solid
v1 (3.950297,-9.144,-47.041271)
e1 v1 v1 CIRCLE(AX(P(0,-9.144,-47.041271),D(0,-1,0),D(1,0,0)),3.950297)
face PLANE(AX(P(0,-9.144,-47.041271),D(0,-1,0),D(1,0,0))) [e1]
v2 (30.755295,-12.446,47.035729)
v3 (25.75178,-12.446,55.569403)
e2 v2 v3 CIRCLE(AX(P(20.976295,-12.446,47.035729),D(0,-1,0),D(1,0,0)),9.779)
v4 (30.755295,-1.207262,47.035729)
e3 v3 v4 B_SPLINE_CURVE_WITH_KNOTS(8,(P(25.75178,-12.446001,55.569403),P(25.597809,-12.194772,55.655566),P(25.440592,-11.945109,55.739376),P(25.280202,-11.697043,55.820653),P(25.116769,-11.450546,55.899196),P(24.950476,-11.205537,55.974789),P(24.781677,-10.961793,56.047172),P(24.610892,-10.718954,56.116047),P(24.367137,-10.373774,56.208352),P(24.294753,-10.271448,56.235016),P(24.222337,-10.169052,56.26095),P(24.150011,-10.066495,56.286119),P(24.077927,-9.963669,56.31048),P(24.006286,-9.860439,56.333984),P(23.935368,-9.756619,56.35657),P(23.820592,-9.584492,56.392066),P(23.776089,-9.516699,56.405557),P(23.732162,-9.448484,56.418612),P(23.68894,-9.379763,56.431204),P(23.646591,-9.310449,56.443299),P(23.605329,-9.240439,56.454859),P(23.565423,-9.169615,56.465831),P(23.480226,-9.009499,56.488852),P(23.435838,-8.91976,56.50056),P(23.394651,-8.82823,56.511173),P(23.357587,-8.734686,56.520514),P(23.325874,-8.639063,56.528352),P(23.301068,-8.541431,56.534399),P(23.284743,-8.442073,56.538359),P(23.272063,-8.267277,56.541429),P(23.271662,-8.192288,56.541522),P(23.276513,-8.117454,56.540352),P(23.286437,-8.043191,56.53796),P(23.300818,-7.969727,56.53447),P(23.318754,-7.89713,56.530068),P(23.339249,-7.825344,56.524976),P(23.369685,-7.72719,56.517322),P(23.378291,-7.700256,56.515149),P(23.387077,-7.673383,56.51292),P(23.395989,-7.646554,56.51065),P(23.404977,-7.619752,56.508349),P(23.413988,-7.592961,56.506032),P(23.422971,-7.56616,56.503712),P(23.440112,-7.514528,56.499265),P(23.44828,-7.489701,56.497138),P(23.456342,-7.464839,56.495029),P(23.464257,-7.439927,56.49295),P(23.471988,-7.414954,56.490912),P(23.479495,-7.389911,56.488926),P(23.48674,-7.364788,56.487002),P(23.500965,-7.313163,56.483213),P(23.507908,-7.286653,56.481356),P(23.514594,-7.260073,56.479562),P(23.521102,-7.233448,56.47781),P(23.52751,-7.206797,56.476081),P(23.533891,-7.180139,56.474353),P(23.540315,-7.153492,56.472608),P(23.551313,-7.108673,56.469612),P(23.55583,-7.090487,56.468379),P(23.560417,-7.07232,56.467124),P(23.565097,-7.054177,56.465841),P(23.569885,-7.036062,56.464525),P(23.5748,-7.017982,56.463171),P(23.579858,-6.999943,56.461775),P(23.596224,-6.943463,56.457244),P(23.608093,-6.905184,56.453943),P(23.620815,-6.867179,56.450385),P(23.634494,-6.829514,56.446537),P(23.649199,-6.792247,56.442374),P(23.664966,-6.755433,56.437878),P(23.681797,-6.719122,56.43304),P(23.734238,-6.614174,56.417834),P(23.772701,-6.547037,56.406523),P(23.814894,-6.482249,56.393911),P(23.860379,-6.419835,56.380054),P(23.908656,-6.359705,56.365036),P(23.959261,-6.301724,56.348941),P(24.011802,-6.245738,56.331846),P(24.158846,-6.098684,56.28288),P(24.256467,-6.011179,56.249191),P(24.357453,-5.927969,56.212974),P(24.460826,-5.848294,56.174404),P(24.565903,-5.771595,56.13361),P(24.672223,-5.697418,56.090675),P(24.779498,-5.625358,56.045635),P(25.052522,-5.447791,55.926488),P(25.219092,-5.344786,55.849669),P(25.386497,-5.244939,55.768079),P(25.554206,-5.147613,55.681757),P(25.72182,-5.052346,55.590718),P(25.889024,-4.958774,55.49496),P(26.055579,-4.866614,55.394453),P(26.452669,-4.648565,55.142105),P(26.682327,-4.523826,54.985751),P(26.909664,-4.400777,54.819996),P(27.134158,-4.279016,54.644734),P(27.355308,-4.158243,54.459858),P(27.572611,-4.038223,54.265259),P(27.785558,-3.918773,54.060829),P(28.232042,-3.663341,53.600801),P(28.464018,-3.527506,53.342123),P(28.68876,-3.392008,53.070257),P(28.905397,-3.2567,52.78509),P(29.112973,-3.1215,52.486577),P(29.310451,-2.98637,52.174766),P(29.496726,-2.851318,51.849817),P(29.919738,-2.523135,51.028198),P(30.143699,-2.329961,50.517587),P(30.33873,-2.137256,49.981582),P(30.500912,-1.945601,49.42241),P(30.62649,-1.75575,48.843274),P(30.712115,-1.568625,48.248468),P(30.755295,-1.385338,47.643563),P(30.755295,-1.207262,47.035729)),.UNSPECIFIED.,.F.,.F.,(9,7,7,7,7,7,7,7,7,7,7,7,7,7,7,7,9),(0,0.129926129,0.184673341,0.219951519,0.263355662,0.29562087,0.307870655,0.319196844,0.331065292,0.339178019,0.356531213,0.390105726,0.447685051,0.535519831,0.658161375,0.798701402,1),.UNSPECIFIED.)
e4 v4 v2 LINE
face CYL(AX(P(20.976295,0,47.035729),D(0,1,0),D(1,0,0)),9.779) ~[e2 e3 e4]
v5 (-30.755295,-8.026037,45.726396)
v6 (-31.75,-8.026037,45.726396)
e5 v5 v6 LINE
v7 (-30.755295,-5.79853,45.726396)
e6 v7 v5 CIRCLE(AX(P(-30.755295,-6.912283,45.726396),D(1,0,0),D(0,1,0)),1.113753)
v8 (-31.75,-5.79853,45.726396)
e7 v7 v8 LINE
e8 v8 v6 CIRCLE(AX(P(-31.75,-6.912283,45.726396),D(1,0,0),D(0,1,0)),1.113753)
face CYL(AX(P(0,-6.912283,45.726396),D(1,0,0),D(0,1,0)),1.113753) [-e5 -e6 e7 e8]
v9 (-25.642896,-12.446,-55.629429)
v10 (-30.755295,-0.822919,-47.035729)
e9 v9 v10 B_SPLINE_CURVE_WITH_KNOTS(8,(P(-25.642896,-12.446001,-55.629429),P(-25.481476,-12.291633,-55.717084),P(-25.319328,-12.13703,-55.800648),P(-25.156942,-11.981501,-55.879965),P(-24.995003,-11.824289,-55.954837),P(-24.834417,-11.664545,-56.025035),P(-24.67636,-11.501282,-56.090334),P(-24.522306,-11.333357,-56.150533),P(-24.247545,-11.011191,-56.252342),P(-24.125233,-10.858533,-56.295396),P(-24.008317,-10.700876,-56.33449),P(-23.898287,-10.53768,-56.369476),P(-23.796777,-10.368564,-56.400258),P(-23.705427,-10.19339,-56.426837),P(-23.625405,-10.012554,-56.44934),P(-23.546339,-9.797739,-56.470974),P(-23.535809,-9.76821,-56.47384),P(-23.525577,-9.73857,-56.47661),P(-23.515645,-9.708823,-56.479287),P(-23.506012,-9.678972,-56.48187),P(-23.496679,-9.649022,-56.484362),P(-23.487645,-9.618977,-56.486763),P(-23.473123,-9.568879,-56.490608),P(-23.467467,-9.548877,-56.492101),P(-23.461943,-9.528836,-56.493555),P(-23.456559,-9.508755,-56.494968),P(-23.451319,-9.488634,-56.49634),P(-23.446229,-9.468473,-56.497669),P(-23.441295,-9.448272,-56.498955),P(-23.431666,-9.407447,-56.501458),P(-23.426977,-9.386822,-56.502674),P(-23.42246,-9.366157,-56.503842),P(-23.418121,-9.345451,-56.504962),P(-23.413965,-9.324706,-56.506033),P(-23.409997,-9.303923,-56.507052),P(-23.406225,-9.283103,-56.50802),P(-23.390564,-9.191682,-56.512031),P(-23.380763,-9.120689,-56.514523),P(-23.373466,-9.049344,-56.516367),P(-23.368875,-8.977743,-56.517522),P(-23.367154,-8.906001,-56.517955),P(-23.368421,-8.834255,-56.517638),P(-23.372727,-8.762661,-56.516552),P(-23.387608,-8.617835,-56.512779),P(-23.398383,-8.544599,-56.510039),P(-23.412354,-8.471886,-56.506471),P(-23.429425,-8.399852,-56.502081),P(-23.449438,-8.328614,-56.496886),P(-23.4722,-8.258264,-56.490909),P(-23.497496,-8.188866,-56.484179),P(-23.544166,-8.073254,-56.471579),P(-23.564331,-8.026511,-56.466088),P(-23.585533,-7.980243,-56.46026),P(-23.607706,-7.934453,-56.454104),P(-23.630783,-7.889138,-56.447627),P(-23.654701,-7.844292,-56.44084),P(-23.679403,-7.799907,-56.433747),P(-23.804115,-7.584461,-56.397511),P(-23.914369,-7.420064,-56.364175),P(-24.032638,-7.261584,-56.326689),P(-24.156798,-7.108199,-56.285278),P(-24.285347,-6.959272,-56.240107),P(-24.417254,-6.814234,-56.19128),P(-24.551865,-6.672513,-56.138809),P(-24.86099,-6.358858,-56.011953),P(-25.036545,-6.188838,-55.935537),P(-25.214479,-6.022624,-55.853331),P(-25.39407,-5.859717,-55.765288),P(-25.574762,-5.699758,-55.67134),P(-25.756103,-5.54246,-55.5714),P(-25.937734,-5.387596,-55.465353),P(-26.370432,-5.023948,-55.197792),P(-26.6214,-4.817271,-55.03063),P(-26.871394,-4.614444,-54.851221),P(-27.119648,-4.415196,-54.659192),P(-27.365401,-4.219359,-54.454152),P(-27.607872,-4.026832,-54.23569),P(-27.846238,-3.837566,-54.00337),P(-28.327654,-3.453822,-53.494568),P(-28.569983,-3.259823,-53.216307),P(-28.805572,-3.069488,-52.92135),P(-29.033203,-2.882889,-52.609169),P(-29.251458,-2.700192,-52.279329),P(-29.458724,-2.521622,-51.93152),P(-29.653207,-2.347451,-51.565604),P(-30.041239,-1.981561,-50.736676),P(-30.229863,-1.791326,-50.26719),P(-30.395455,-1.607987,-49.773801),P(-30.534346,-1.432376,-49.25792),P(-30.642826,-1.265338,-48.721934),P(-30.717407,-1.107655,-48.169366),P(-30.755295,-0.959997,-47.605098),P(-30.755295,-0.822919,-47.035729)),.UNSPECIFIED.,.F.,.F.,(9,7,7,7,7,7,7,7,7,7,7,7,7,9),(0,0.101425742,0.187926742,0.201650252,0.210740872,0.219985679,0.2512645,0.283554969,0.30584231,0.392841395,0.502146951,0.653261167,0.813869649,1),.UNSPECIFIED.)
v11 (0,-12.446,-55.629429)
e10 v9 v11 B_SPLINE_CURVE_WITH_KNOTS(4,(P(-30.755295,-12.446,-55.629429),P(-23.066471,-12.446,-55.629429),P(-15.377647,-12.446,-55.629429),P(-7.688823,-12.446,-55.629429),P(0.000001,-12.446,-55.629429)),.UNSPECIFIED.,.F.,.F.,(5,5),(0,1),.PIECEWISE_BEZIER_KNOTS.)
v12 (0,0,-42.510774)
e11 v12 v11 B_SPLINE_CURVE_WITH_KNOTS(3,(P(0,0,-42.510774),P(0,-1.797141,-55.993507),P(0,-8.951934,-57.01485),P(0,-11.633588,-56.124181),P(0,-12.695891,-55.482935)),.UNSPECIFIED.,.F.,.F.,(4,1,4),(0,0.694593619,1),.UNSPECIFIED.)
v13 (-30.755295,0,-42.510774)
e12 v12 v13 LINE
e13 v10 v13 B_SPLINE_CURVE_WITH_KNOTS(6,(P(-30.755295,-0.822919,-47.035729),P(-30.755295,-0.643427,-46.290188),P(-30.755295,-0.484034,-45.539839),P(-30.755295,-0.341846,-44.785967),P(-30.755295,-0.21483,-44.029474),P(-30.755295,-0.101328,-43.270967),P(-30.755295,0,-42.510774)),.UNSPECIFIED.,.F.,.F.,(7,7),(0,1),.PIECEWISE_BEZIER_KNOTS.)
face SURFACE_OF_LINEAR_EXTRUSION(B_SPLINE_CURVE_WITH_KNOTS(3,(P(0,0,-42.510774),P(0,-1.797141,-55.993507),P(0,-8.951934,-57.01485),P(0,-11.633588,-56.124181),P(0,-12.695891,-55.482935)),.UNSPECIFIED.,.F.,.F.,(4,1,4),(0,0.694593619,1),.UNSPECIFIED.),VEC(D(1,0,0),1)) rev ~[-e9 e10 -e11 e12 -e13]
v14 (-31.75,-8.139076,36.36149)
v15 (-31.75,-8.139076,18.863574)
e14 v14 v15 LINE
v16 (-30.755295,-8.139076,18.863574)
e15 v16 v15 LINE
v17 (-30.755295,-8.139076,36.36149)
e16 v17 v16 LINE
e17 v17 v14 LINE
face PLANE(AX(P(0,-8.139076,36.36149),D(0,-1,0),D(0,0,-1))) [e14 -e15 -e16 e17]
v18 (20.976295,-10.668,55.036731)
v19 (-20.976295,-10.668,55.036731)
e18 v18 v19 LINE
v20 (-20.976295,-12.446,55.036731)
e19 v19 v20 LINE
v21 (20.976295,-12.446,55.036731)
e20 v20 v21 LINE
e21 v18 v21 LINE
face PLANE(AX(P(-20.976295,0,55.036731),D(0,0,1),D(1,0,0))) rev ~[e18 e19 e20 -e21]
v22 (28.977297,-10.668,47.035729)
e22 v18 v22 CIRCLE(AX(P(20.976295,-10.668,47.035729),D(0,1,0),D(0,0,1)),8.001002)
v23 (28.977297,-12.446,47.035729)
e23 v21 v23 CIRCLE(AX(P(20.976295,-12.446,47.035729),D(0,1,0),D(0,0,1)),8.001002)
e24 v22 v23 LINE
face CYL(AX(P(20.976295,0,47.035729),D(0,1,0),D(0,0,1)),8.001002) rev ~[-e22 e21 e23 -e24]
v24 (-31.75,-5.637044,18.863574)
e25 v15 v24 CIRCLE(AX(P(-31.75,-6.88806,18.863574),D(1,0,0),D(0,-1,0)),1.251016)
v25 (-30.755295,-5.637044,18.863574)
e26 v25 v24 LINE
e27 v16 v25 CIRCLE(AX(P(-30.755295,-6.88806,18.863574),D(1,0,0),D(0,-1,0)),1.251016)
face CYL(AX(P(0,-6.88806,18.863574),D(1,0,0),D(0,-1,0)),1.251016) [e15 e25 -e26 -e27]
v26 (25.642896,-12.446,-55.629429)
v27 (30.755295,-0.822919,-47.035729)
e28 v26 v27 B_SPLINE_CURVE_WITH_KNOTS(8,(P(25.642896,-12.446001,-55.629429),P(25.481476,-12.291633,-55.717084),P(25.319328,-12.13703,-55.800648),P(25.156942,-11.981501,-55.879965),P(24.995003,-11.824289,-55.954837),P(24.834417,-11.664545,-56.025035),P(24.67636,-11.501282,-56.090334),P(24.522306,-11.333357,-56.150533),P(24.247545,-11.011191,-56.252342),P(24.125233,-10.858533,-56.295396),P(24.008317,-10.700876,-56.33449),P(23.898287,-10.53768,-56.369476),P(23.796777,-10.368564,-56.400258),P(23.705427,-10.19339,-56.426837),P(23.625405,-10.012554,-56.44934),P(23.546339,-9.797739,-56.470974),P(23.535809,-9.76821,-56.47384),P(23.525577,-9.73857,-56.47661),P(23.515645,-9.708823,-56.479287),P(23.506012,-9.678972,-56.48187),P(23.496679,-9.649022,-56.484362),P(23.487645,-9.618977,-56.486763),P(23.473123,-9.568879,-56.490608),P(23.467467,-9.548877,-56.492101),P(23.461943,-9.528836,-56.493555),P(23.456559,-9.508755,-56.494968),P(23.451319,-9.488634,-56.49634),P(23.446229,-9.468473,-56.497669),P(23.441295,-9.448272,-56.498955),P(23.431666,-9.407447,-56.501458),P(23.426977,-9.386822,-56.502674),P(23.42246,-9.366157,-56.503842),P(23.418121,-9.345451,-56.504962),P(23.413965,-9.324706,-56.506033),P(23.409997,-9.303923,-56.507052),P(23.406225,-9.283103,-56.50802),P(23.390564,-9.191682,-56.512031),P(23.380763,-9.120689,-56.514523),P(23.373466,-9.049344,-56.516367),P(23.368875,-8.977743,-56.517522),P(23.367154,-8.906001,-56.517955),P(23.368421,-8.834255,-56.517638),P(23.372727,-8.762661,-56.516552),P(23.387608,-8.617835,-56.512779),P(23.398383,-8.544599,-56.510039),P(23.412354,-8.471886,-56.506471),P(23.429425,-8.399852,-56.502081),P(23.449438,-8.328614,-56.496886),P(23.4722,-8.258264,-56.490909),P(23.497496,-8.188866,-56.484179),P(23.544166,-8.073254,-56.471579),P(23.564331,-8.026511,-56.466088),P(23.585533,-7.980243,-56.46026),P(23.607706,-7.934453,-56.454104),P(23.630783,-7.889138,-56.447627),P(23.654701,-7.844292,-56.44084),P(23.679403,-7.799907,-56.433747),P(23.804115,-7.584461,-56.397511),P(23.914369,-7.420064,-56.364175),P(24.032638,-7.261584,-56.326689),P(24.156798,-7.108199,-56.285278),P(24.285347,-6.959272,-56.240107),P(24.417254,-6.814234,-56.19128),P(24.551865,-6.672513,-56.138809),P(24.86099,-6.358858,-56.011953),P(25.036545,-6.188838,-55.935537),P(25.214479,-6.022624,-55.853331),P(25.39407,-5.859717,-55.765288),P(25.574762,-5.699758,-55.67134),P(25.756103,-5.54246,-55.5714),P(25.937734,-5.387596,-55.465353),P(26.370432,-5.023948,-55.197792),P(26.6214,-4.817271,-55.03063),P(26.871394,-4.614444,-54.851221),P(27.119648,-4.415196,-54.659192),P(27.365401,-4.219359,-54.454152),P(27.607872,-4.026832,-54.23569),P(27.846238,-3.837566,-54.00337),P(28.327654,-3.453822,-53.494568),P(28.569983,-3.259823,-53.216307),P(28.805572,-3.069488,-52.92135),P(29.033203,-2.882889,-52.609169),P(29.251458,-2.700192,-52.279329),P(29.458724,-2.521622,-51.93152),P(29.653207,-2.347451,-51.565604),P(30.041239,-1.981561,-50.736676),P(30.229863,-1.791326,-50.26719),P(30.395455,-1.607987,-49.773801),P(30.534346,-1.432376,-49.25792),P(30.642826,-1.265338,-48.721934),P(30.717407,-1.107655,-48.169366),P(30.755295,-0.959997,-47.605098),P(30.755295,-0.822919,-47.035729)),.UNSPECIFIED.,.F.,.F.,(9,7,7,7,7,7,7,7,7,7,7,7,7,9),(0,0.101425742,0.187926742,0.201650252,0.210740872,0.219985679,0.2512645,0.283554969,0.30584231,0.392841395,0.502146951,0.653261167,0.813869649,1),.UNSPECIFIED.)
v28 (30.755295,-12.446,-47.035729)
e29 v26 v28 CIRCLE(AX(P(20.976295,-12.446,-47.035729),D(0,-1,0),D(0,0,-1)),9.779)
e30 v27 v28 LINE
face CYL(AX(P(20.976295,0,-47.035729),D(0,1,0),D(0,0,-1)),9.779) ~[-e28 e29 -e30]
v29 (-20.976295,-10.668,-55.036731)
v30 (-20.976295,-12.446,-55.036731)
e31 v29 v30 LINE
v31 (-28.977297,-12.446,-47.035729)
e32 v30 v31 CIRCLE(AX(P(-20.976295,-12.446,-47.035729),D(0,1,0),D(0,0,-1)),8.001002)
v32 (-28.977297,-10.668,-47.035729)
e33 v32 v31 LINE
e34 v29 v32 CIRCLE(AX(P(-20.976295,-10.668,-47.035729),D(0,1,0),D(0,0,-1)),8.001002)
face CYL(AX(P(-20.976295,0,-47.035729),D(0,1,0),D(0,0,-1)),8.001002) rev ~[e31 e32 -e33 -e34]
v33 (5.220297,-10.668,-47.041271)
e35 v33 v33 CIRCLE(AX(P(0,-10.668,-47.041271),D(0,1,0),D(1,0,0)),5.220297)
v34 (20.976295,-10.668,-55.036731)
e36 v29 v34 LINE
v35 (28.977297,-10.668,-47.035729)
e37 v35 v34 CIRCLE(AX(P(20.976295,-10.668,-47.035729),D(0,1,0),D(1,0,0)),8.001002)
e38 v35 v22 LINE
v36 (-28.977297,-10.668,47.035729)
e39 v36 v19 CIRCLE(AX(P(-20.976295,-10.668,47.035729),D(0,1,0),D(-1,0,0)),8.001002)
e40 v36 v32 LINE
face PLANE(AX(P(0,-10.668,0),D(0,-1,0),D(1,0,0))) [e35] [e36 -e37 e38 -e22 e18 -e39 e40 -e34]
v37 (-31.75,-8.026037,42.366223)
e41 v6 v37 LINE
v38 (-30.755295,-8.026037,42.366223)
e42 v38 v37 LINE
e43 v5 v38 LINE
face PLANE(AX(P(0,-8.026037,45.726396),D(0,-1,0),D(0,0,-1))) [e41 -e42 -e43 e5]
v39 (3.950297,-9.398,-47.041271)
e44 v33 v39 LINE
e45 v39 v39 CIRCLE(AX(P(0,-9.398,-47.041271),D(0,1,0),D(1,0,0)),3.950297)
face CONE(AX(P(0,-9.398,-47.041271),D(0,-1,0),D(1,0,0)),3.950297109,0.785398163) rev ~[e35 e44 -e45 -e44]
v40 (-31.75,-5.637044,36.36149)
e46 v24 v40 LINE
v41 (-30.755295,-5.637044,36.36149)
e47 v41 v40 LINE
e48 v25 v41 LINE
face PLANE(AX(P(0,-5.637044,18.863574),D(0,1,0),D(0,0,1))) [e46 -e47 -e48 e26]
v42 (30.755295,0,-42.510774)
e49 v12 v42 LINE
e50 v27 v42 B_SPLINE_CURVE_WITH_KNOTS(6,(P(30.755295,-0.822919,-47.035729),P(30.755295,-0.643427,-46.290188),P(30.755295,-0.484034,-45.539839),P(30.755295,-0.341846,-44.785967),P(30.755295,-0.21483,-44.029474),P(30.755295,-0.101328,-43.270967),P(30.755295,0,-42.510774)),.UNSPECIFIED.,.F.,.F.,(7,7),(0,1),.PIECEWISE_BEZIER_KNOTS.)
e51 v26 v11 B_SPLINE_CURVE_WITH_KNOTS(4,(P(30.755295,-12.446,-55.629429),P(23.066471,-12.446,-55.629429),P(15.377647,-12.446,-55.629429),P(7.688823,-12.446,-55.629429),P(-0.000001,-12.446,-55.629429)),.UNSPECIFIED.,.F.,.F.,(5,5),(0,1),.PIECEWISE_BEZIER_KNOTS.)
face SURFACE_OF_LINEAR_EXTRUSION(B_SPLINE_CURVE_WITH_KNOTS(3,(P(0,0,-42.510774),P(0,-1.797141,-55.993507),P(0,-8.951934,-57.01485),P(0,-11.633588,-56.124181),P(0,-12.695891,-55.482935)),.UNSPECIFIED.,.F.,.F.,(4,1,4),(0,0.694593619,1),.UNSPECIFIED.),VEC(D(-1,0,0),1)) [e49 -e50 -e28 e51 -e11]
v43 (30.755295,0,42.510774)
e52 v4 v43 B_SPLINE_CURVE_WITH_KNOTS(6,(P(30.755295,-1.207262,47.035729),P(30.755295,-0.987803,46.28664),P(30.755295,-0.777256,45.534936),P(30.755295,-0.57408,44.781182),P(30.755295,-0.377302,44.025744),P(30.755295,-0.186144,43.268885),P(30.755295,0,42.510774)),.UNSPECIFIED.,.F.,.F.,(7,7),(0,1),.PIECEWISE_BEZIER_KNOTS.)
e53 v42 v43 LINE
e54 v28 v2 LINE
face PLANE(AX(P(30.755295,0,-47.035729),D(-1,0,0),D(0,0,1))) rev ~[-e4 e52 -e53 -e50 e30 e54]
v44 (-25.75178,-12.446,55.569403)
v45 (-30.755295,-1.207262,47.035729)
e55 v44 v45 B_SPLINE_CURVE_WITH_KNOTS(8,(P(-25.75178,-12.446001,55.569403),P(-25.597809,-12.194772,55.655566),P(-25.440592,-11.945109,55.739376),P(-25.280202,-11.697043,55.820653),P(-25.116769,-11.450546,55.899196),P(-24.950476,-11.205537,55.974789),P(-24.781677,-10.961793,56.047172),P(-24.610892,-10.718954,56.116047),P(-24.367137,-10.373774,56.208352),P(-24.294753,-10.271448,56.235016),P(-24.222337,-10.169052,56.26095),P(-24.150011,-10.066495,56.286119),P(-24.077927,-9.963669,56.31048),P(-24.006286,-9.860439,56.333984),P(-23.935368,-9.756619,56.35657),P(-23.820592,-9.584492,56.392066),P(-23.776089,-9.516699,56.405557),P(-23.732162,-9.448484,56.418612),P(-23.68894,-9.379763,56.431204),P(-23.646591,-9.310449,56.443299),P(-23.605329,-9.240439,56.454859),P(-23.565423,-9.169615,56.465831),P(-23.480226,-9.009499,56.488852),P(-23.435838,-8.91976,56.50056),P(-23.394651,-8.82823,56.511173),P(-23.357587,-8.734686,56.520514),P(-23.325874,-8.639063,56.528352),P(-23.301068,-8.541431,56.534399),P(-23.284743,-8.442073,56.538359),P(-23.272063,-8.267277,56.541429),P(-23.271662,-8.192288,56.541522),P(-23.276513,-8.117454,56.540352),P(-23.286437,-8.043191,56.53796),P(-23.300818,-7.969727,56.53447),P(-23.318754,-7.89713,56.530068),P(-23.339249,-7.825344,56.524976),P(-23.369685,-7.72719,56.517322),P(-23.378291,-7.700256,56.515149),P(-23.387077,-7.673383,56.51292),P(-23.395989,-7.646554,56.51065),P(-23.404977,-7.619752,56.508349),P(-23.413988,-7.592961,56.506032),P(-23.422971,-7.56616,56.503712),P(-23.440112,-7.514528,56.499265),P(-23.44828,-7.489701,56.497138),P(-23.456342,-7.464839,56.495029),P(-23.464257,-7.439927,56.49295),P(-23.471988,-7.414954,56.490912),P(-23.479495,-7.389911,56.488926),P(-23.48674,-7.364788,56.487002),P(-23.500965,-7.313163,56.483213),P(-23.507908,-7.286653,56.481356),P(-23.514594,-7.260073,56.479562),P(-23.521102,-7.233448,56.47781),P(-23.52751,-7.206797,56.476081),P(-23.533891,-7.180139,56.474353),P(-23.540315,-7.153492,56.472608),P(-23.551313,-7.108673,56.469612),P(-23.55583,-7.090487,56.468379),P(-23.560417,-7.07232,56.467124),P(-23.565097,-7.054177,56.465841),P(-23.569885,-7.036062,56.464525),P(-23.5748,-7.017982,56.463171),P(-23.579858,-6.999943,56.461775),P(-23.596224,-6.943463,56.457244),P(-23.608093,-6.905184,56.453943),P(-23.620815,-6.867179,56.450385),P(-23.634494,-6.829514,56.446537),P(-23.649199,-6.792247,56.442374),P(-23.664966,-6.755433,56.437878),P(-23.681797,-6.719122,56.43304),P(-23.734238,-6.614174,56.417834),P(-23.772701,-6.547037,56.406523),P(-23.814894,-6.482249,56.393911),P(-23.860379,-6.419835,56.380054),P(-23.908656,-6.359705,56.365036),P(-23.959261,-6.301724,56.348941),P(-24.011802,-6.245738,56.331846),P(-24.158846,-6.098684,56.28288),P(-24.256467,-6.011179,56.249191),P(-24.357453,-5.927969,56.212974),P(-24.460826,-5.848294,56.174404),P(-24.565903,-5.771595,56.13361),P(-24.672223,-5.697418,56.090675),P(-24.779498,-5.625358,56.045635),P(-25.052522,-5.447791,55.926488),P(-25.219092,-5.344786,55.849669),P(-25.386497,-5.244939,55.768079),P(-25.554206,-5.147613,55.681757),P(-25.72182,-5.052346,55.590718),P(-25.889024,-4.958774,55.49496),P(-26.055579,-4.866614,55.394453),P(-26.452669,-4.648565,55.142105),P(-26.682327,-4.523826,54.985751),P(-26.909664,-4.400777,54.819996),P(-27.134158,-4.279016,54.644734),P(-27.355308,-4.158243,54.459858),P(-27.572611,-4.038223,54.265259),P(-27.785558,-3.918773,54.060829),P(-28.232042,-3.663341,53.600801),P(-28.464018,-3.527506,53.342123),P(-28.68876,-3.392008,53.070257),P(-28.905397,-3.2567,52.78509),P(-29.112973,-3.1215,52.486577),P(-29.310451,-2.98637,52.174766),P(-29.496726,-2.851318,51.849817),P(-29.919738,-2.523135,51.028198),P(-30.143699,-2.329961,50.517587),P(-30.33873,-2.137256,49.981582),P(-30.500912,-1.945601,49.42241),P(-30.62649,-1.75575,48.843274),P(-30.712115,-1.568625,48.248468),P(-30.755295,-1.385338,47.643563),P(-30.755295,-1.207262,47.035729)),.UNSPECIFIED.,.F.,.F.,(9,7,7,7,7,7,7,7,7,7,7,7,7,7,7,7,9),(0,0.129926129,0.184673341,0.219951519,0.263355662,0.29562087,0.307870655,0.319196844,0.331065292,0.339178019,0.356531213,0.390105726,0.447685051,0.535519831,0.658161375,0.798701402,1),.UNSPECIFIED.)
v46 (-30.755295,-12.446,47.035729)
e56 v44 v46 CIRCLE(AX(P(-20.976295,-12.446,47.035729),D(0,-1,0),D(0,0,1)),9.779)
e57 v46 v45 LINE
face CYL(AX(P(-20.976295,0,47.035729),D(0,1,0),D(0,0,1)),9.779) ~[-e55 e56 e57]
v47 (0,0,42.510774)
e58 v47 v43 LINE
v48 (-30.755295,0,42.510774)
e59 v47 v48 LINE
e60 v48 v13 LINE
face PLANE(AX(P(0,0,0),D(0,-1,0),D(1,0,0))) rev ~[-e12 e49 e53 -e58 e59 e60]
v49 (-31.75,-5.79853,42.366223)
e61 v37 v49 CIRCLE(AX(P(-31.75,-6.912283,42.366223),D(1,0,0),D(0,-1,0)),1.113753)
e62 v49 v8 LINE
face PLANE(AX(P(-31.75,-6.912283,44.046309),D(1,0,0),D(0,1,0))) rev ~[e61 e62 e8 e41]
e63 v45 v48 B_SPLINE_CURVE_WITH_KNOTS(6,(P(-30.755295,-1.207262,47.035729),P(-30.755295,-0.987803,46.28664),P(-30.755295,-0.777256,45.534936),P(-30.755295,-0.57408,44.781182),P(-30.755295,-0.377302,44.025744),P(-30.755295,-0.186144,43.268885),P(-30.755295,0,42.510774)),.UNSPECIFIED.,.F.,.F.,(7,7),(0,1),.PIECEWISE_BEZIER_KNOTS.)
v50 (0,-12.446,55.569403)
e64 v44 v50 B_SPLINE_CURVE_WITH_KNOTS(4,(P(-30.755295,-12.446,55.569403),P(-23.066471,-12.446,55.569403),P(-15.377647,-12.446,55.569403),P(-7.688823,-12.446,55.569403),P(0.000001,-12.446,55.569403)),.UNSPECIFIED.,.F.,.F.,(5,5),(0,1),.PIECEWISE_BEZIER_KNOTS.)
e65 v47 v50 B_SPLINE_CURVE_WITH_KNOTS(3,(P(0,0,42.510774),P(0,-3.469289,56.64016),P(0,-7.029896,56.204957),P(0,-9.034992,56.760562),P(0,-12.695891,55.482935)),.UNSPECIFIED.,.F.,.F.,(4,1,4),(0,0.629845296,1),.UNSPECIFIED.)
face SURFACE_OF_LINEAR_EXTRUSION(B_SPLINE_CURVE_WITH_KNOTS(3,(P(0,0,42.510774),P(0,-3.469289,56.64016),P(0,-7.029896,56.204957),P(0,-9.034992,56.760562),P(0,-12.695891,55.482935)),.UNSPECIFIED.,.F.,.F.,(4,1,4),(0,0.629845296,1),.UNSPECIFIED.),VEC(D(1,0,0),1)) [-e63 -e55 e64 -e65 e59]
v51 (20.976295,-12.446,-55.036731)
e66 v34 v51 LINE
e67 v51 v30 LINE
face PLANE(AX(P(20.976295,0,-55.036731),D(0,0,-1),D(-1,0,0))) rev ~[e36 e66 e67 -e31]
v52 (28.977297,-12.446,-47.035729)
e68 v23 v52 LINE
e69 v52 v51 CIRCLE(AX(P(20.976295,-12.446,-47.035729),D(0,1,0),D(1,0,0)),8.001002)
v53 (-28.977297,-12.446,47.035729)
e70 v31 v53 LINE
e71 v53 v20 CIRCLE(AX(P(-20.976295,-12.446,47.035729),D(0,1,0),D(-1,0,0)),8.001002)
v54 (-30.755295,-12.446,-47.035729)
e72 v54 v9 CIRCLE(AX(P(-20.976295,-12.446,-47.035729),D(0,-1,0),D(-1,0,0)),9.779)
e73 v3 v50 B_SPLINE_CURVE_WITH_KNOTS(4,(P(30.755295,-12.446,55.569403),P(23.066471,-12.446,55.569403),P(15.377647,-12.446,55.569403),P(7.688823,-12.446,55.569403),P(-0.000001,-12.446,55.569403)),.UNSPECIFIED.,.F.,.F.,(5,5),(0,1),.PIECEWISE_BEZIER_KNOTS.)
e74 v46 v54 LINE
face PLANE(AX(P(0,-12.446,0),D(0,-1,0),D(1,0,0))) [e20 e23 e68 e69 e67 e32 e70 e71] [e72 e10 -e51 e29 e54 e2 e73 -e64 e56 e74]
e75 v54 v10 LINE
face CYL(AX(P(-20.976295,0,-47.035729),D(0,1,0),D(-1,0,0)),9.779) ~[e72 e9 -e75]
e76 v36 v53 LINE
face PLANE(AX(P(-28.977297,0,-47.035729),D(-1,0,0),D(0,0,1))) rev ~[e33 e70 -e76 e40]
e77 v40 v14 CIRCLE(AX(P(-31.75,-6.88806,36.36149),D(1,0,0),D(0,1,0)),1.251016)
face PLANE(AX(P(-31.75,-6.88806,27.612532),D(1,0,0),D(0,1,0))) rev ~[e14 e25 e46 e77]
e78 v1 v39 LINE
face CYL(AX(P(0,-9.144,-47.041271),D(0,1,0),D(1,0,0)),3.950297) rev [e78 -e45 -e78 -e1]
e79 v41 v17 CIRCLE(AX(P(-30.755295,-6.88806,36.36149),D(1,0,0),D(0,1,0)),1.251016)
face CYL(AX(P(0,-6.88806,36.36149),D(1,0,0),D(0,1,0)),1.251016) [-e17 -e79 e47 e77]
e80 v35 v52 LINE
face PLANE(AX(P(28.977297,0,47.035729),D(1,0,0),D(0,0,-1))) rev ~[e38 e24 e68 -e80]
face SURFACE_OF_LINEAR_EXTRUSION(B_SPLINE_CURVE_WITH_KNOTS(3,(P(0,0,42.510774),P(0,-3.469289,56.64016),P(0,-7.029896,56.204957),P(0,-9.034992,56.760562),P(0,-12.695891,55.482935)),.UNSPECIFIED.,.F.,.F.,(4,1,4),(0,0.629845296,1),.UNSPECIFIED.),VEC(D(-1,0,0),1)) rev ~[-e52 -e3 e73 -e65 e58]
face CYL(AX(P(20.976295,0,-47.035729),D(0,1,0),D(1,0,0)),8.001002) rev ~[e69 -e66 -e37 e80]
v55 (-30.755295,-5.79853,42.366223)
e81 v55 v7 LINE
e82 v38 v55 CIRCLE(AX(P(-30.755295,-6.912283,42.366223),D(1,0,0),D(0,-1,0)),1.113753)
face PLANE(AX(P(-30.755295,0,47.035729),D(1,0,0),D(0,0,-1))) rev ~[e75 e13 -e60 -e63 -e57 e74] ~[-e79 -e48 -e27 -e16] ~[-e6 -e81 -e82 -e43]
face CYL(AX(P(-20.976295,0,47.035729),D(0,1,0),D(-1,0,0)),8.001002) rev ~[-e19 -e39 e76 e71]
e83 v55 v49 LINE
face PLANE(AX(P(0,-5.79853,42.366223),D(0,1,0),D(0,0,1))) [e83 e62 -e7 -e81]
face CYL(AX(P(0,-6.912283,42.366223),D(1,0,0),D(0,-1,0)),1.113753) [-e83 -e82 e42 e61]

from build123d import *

# Parameters (mm, degrees)
F0_R     = 3.9502971089
F1_DEPTH = 10.668
F2_DEPTH = 12.446
F3_START = 9.144
F3_DEPTH = 9.906
F4_SIZE  = 1.27
F6_DEPTH = 34.798
F8_DEPTH = 31.75


with BuildPart() as f1:
    # F0 (on Front) → F1 (new body)
    with BuildSketch(Plane.XZ):
        with BuildLine():
            Line((-20.9762947197, -56.8147292361), (20.9762947197, -56.8147292361))
            ThreePointArc((20.9762947197, -56.8147292361), (27.8910919329, -53.9505264493), (30.7552947197, -47.0357292361))
            Line((30.7552947197, -47.0357292361), (30.7552947197, 47.0357292361))
            ThreePointArc((30.7552947197, 47.0357292361), (27.8910919329, 53.9505264493), (20.9762947197, 56.8147292361))
            Line((20.9762947197, 56.8147292361), (-20.9762947197, 56.8147292361))
            ThreePointArc((-20.9762947197, 56.8147292361), (-27.8910919329, 53.9505264493), (-30.7552947197, 47.0357292361))
            Line((-30.7552947197, 47.0357292361), (-30.7552947197, -47.0357292361))
            ThreePointArc((-30.7552947197, -47.0357292361), (-27.8910919329, -53.9505264493), (-20.9762947197, -56.8147292361))
        make_face()
        with BuildLine():
            ThreePointArc((20.9762947197, 55.0367310643), (26.6338573688, 52.6932918851), (28.977296548, 47.0357292361))
            Line((28.977296548, 47.0357292361), (28.977296548, -47.0357292361))
            ThreePointArc((28.977296548, -47.0357292361), (26.6338573688, -52.6932918851), (20.9762947197, -55.0367310643))
            Line((20.9762947197, -55.0367310643), (-20.9762947197, -55.0367310643))
            ThreePointArc((-20.9762947197, -55.0367310643), (-26.6338573688, -52.6932918851), (-28.977296548, -47.0357292361))
            Line((-28.977296548, -47.0357292361), (-28.977296548, 47.0357292361))
            ThreePointArc((-28.977296548, 47.0357292361), (-26.6338573688, 52.6932918851), (-20.9762947197, 55.0367310643))
            Line((-20.9762947197, 55.0367310643), (20.9762947197, 55.0367310643))
        make_face(mode=Mode.SUBTRACT)
        with BuildLine():
            Line((28.977296548, -47.0357292361), (28.977296548, 47.0357292361))
            ThreePointArc((28.977296548, 47.0357292361), (26.6338573688, 52.6932918851), (20.9762947197, 55.0367310643))
            Line((20.9762947197, 55.0367310643), (-20.9762947197, 55.0367310643))
            ThreePointArc((-20.9762947197, 55.0367310643), (-26.6338573688, 52.6932918851), (-28.977296548, 47.0357292361))
            Line((-28.977296548, 47.0357292361), (-28.977296548, -47.0357292361))
            ThreePointArc((-28.977296548, -47.0357292361), (-26.6338573688, -52.6932918851), (-20.9762947197, -55.0367310643))
            Line((-20.9762947197, -55.0367310643), (20.9762947197, -55.0367310643))
            ThreePointArc((20.9762947197, -55.0367310643), (26.6338573688, -52.6932918851), (28.977296548, -47.0357292361))
        make_face()
        with Locations((0, -47.0412708819)):
            Circle(F0_R, mode=Mode.SUBTRACT)
        with Locations((0, -47.0412708819)):
            Circle(F0_R)
    extrude(amount=F1_DEPTH)

    # F0 (on Front) → F2 (join)
    with BuildSketch(Plane.XZ):
        with BuildLine():
            Line((-20.9762947197, -56.8147292361), (20.9762947197, -56.8147292361))
            ThreePointArc((20.9762947197, -56.8147292361), (27.8910919329, -53.9505264493), (30.7552947197, -47.0357292361))
            Line((30.7552947197, -47.0357292361), (30.7552947197, 47.0357292361))
            ThreePointArc((30.7552947197, 47.0357292361), (27.8910919329, 53.9505264493), (20.9762947197, 56.8147292361))
            Line((20.9762947197, 56.8147292361), (-20.9762947197, 56.8147292361))
            ThreePointArc((-20.9762947197, 56.8147292361), (-27.8910919329, 53.9505264493), (-30.7552947197, 47.0357292361))
            Line((-30.7552947197, 47.0357292361), (-30.7552947197, -47.0357292361))
            ThreePointArc((-30.7552947197, -47.0357292361), (-27.8910919329, -53.9505264493), (-20.9762947197, -56.8147292361))
        make_face()
        with BuildLine():
            ThreePointArc((20.9762947197, 55.0367310643), (26.6338573688, 52.6932918851), (28.977296548, 47.0357292361))
            Line((28.977296548, 47.0357292361), (28.977296548, -47.0357292361))
            ThreePointArc((28.977296548, -47.0357292361), (26.6338573688, -52.6932918851), (20.9762947197, -55.0367310643))
            Line((20.9762947197, -55.0367310643), (-20.9762947197, -55.0367310643))
            ThreePointArc((-20.9762947197, -55.0367310643), (-26.6338573688, -52.6932918851), (-28.977296548, -47.0357292361))
            Line((-28.977296548, -47.0357292361), (-28.977296548, 47.0357292361))
            ThreePointArc((-28.977296548, 47.0357292361), (-26.6338573688, 52.6932918851), (-20.9762947197, 55.0367310643))
            Line((-20.9762947197, 55.0367310643), (20.9762947197, 55.0367310643))
        make_face(mode=Mode.SUBTRACT)
    extrude(amount=F2_DEPTH)

    # F0 (on Front) → F3 (cut)
    with BuildSketch(Plane.XZ.offset(F3_START)):
        with Locations((0, -47.0412708819)):
            Circle(F0_R)
    extrude(amount=F3_DEPTH, mode=Mode.SUBTRACT)

    # F4
    f4_edges = [f1.edges().sort_by_distance(p)[0] for p in [
        (-3.950297, -10.668, -47.041271),
    ]]
    chamfer(f4_edges, length=F4_SIZE)

    # F5 (on Right) → F6 (cut, symmetric)
    with BuildSketch(Plane.YZ):
        with BuildLine():
            add(Edge.make_bspline(
                [(0, 42.5107741586), (-3.4692891864, 56.6401603672), (-7.0298959202, 56.2049565258), (-9.0349917024, 56.7605619607), (-12.6958908513, 55.4829351604)],
                knots=[0, 0, 0, 0, 0.6298452958, 1, 1, 1, 1], degree=3))
            Line((0, 42.5107741586), (8.7041649967, 42.5107741586))
            Line((8.7041649967, 42.5107741586), (-8.2542682061, 71.9105228782))
            Line((-8.2542682061, 71.9105228782), (-15.3796598309, 57.517234236))
            Line((-15.3796598309, 57.517234236), (-12.6958908513, 55.4829351604))
        make_face()
        with BuildLine():
            Line((6.5665482543, -51.9287921488), (0, -42.5107741586))
            add(Edge.make_bspline(
                [(0, -42.5107741586), (-1.797141266, -55.9935070445), (-8.9519337422, -57.0148502385), (-11.6335880011, -56.1241805553), (-12.6958908513, -55.4829351604)],
                knots=[0, 0, 0, 0, 0.6945936189, 1, 1, 1, 1], degree=3))
            Line((-12.6958908513, -55.4829351604), (-17.793700099, -53.5118058324))
            Line((-17.793700099, -53.5118058324), (-3.83652444, -63.5))
            Line((-3.83652444, -63.5), (6.5665482543, -51.9287921488))
        make_face()
    extrude(amount=F6_DEPTH, both=True, mode=Mode.SUBTRACT)

    # F7 (on Right) → F8 (join)
    with BuildSketch(Plane.YZ):
        with BuildLine():
            Line((-5.6370437269, 18.863574058), (-5.6370437269, 36.3614898325))
            ThreePointArc((-5.6370437269, 36.3614898325), (-6.8880598859, 37.6125059916), (-8.139076045, 36.3614898325))
            Line((-8.139076045, 36.3614898325), (-8.139076045, 18.863574058))
            ThreePointArc((-8.139076045, 18.863574058), (-6.8880598859, 17.6125578989), (-5.6370437269, 18.863574058))
        make_face()
        with BuildLine():
            Line((-5.7985300421, 42.3662230318), (-5.7985300421, 45.7263958405))
            ThreePointArc((-5.7985300421, 45.7263958405), (-6.9122834376, 46.8401492361), (-8.0260368332, 45.7263958405))
            Line((-8.0260368332, 45.7263958405), (-8.0260368332, 42.3662230318))
            ThreePointArc((-8.0260368332, 42.3662230318), (-6.9122834376, 41.2524696362), (-5.7985300421, 42.3662230318))
        make_face()
    extrude(amount=-F8_DEPTH)


solid = f1.part
